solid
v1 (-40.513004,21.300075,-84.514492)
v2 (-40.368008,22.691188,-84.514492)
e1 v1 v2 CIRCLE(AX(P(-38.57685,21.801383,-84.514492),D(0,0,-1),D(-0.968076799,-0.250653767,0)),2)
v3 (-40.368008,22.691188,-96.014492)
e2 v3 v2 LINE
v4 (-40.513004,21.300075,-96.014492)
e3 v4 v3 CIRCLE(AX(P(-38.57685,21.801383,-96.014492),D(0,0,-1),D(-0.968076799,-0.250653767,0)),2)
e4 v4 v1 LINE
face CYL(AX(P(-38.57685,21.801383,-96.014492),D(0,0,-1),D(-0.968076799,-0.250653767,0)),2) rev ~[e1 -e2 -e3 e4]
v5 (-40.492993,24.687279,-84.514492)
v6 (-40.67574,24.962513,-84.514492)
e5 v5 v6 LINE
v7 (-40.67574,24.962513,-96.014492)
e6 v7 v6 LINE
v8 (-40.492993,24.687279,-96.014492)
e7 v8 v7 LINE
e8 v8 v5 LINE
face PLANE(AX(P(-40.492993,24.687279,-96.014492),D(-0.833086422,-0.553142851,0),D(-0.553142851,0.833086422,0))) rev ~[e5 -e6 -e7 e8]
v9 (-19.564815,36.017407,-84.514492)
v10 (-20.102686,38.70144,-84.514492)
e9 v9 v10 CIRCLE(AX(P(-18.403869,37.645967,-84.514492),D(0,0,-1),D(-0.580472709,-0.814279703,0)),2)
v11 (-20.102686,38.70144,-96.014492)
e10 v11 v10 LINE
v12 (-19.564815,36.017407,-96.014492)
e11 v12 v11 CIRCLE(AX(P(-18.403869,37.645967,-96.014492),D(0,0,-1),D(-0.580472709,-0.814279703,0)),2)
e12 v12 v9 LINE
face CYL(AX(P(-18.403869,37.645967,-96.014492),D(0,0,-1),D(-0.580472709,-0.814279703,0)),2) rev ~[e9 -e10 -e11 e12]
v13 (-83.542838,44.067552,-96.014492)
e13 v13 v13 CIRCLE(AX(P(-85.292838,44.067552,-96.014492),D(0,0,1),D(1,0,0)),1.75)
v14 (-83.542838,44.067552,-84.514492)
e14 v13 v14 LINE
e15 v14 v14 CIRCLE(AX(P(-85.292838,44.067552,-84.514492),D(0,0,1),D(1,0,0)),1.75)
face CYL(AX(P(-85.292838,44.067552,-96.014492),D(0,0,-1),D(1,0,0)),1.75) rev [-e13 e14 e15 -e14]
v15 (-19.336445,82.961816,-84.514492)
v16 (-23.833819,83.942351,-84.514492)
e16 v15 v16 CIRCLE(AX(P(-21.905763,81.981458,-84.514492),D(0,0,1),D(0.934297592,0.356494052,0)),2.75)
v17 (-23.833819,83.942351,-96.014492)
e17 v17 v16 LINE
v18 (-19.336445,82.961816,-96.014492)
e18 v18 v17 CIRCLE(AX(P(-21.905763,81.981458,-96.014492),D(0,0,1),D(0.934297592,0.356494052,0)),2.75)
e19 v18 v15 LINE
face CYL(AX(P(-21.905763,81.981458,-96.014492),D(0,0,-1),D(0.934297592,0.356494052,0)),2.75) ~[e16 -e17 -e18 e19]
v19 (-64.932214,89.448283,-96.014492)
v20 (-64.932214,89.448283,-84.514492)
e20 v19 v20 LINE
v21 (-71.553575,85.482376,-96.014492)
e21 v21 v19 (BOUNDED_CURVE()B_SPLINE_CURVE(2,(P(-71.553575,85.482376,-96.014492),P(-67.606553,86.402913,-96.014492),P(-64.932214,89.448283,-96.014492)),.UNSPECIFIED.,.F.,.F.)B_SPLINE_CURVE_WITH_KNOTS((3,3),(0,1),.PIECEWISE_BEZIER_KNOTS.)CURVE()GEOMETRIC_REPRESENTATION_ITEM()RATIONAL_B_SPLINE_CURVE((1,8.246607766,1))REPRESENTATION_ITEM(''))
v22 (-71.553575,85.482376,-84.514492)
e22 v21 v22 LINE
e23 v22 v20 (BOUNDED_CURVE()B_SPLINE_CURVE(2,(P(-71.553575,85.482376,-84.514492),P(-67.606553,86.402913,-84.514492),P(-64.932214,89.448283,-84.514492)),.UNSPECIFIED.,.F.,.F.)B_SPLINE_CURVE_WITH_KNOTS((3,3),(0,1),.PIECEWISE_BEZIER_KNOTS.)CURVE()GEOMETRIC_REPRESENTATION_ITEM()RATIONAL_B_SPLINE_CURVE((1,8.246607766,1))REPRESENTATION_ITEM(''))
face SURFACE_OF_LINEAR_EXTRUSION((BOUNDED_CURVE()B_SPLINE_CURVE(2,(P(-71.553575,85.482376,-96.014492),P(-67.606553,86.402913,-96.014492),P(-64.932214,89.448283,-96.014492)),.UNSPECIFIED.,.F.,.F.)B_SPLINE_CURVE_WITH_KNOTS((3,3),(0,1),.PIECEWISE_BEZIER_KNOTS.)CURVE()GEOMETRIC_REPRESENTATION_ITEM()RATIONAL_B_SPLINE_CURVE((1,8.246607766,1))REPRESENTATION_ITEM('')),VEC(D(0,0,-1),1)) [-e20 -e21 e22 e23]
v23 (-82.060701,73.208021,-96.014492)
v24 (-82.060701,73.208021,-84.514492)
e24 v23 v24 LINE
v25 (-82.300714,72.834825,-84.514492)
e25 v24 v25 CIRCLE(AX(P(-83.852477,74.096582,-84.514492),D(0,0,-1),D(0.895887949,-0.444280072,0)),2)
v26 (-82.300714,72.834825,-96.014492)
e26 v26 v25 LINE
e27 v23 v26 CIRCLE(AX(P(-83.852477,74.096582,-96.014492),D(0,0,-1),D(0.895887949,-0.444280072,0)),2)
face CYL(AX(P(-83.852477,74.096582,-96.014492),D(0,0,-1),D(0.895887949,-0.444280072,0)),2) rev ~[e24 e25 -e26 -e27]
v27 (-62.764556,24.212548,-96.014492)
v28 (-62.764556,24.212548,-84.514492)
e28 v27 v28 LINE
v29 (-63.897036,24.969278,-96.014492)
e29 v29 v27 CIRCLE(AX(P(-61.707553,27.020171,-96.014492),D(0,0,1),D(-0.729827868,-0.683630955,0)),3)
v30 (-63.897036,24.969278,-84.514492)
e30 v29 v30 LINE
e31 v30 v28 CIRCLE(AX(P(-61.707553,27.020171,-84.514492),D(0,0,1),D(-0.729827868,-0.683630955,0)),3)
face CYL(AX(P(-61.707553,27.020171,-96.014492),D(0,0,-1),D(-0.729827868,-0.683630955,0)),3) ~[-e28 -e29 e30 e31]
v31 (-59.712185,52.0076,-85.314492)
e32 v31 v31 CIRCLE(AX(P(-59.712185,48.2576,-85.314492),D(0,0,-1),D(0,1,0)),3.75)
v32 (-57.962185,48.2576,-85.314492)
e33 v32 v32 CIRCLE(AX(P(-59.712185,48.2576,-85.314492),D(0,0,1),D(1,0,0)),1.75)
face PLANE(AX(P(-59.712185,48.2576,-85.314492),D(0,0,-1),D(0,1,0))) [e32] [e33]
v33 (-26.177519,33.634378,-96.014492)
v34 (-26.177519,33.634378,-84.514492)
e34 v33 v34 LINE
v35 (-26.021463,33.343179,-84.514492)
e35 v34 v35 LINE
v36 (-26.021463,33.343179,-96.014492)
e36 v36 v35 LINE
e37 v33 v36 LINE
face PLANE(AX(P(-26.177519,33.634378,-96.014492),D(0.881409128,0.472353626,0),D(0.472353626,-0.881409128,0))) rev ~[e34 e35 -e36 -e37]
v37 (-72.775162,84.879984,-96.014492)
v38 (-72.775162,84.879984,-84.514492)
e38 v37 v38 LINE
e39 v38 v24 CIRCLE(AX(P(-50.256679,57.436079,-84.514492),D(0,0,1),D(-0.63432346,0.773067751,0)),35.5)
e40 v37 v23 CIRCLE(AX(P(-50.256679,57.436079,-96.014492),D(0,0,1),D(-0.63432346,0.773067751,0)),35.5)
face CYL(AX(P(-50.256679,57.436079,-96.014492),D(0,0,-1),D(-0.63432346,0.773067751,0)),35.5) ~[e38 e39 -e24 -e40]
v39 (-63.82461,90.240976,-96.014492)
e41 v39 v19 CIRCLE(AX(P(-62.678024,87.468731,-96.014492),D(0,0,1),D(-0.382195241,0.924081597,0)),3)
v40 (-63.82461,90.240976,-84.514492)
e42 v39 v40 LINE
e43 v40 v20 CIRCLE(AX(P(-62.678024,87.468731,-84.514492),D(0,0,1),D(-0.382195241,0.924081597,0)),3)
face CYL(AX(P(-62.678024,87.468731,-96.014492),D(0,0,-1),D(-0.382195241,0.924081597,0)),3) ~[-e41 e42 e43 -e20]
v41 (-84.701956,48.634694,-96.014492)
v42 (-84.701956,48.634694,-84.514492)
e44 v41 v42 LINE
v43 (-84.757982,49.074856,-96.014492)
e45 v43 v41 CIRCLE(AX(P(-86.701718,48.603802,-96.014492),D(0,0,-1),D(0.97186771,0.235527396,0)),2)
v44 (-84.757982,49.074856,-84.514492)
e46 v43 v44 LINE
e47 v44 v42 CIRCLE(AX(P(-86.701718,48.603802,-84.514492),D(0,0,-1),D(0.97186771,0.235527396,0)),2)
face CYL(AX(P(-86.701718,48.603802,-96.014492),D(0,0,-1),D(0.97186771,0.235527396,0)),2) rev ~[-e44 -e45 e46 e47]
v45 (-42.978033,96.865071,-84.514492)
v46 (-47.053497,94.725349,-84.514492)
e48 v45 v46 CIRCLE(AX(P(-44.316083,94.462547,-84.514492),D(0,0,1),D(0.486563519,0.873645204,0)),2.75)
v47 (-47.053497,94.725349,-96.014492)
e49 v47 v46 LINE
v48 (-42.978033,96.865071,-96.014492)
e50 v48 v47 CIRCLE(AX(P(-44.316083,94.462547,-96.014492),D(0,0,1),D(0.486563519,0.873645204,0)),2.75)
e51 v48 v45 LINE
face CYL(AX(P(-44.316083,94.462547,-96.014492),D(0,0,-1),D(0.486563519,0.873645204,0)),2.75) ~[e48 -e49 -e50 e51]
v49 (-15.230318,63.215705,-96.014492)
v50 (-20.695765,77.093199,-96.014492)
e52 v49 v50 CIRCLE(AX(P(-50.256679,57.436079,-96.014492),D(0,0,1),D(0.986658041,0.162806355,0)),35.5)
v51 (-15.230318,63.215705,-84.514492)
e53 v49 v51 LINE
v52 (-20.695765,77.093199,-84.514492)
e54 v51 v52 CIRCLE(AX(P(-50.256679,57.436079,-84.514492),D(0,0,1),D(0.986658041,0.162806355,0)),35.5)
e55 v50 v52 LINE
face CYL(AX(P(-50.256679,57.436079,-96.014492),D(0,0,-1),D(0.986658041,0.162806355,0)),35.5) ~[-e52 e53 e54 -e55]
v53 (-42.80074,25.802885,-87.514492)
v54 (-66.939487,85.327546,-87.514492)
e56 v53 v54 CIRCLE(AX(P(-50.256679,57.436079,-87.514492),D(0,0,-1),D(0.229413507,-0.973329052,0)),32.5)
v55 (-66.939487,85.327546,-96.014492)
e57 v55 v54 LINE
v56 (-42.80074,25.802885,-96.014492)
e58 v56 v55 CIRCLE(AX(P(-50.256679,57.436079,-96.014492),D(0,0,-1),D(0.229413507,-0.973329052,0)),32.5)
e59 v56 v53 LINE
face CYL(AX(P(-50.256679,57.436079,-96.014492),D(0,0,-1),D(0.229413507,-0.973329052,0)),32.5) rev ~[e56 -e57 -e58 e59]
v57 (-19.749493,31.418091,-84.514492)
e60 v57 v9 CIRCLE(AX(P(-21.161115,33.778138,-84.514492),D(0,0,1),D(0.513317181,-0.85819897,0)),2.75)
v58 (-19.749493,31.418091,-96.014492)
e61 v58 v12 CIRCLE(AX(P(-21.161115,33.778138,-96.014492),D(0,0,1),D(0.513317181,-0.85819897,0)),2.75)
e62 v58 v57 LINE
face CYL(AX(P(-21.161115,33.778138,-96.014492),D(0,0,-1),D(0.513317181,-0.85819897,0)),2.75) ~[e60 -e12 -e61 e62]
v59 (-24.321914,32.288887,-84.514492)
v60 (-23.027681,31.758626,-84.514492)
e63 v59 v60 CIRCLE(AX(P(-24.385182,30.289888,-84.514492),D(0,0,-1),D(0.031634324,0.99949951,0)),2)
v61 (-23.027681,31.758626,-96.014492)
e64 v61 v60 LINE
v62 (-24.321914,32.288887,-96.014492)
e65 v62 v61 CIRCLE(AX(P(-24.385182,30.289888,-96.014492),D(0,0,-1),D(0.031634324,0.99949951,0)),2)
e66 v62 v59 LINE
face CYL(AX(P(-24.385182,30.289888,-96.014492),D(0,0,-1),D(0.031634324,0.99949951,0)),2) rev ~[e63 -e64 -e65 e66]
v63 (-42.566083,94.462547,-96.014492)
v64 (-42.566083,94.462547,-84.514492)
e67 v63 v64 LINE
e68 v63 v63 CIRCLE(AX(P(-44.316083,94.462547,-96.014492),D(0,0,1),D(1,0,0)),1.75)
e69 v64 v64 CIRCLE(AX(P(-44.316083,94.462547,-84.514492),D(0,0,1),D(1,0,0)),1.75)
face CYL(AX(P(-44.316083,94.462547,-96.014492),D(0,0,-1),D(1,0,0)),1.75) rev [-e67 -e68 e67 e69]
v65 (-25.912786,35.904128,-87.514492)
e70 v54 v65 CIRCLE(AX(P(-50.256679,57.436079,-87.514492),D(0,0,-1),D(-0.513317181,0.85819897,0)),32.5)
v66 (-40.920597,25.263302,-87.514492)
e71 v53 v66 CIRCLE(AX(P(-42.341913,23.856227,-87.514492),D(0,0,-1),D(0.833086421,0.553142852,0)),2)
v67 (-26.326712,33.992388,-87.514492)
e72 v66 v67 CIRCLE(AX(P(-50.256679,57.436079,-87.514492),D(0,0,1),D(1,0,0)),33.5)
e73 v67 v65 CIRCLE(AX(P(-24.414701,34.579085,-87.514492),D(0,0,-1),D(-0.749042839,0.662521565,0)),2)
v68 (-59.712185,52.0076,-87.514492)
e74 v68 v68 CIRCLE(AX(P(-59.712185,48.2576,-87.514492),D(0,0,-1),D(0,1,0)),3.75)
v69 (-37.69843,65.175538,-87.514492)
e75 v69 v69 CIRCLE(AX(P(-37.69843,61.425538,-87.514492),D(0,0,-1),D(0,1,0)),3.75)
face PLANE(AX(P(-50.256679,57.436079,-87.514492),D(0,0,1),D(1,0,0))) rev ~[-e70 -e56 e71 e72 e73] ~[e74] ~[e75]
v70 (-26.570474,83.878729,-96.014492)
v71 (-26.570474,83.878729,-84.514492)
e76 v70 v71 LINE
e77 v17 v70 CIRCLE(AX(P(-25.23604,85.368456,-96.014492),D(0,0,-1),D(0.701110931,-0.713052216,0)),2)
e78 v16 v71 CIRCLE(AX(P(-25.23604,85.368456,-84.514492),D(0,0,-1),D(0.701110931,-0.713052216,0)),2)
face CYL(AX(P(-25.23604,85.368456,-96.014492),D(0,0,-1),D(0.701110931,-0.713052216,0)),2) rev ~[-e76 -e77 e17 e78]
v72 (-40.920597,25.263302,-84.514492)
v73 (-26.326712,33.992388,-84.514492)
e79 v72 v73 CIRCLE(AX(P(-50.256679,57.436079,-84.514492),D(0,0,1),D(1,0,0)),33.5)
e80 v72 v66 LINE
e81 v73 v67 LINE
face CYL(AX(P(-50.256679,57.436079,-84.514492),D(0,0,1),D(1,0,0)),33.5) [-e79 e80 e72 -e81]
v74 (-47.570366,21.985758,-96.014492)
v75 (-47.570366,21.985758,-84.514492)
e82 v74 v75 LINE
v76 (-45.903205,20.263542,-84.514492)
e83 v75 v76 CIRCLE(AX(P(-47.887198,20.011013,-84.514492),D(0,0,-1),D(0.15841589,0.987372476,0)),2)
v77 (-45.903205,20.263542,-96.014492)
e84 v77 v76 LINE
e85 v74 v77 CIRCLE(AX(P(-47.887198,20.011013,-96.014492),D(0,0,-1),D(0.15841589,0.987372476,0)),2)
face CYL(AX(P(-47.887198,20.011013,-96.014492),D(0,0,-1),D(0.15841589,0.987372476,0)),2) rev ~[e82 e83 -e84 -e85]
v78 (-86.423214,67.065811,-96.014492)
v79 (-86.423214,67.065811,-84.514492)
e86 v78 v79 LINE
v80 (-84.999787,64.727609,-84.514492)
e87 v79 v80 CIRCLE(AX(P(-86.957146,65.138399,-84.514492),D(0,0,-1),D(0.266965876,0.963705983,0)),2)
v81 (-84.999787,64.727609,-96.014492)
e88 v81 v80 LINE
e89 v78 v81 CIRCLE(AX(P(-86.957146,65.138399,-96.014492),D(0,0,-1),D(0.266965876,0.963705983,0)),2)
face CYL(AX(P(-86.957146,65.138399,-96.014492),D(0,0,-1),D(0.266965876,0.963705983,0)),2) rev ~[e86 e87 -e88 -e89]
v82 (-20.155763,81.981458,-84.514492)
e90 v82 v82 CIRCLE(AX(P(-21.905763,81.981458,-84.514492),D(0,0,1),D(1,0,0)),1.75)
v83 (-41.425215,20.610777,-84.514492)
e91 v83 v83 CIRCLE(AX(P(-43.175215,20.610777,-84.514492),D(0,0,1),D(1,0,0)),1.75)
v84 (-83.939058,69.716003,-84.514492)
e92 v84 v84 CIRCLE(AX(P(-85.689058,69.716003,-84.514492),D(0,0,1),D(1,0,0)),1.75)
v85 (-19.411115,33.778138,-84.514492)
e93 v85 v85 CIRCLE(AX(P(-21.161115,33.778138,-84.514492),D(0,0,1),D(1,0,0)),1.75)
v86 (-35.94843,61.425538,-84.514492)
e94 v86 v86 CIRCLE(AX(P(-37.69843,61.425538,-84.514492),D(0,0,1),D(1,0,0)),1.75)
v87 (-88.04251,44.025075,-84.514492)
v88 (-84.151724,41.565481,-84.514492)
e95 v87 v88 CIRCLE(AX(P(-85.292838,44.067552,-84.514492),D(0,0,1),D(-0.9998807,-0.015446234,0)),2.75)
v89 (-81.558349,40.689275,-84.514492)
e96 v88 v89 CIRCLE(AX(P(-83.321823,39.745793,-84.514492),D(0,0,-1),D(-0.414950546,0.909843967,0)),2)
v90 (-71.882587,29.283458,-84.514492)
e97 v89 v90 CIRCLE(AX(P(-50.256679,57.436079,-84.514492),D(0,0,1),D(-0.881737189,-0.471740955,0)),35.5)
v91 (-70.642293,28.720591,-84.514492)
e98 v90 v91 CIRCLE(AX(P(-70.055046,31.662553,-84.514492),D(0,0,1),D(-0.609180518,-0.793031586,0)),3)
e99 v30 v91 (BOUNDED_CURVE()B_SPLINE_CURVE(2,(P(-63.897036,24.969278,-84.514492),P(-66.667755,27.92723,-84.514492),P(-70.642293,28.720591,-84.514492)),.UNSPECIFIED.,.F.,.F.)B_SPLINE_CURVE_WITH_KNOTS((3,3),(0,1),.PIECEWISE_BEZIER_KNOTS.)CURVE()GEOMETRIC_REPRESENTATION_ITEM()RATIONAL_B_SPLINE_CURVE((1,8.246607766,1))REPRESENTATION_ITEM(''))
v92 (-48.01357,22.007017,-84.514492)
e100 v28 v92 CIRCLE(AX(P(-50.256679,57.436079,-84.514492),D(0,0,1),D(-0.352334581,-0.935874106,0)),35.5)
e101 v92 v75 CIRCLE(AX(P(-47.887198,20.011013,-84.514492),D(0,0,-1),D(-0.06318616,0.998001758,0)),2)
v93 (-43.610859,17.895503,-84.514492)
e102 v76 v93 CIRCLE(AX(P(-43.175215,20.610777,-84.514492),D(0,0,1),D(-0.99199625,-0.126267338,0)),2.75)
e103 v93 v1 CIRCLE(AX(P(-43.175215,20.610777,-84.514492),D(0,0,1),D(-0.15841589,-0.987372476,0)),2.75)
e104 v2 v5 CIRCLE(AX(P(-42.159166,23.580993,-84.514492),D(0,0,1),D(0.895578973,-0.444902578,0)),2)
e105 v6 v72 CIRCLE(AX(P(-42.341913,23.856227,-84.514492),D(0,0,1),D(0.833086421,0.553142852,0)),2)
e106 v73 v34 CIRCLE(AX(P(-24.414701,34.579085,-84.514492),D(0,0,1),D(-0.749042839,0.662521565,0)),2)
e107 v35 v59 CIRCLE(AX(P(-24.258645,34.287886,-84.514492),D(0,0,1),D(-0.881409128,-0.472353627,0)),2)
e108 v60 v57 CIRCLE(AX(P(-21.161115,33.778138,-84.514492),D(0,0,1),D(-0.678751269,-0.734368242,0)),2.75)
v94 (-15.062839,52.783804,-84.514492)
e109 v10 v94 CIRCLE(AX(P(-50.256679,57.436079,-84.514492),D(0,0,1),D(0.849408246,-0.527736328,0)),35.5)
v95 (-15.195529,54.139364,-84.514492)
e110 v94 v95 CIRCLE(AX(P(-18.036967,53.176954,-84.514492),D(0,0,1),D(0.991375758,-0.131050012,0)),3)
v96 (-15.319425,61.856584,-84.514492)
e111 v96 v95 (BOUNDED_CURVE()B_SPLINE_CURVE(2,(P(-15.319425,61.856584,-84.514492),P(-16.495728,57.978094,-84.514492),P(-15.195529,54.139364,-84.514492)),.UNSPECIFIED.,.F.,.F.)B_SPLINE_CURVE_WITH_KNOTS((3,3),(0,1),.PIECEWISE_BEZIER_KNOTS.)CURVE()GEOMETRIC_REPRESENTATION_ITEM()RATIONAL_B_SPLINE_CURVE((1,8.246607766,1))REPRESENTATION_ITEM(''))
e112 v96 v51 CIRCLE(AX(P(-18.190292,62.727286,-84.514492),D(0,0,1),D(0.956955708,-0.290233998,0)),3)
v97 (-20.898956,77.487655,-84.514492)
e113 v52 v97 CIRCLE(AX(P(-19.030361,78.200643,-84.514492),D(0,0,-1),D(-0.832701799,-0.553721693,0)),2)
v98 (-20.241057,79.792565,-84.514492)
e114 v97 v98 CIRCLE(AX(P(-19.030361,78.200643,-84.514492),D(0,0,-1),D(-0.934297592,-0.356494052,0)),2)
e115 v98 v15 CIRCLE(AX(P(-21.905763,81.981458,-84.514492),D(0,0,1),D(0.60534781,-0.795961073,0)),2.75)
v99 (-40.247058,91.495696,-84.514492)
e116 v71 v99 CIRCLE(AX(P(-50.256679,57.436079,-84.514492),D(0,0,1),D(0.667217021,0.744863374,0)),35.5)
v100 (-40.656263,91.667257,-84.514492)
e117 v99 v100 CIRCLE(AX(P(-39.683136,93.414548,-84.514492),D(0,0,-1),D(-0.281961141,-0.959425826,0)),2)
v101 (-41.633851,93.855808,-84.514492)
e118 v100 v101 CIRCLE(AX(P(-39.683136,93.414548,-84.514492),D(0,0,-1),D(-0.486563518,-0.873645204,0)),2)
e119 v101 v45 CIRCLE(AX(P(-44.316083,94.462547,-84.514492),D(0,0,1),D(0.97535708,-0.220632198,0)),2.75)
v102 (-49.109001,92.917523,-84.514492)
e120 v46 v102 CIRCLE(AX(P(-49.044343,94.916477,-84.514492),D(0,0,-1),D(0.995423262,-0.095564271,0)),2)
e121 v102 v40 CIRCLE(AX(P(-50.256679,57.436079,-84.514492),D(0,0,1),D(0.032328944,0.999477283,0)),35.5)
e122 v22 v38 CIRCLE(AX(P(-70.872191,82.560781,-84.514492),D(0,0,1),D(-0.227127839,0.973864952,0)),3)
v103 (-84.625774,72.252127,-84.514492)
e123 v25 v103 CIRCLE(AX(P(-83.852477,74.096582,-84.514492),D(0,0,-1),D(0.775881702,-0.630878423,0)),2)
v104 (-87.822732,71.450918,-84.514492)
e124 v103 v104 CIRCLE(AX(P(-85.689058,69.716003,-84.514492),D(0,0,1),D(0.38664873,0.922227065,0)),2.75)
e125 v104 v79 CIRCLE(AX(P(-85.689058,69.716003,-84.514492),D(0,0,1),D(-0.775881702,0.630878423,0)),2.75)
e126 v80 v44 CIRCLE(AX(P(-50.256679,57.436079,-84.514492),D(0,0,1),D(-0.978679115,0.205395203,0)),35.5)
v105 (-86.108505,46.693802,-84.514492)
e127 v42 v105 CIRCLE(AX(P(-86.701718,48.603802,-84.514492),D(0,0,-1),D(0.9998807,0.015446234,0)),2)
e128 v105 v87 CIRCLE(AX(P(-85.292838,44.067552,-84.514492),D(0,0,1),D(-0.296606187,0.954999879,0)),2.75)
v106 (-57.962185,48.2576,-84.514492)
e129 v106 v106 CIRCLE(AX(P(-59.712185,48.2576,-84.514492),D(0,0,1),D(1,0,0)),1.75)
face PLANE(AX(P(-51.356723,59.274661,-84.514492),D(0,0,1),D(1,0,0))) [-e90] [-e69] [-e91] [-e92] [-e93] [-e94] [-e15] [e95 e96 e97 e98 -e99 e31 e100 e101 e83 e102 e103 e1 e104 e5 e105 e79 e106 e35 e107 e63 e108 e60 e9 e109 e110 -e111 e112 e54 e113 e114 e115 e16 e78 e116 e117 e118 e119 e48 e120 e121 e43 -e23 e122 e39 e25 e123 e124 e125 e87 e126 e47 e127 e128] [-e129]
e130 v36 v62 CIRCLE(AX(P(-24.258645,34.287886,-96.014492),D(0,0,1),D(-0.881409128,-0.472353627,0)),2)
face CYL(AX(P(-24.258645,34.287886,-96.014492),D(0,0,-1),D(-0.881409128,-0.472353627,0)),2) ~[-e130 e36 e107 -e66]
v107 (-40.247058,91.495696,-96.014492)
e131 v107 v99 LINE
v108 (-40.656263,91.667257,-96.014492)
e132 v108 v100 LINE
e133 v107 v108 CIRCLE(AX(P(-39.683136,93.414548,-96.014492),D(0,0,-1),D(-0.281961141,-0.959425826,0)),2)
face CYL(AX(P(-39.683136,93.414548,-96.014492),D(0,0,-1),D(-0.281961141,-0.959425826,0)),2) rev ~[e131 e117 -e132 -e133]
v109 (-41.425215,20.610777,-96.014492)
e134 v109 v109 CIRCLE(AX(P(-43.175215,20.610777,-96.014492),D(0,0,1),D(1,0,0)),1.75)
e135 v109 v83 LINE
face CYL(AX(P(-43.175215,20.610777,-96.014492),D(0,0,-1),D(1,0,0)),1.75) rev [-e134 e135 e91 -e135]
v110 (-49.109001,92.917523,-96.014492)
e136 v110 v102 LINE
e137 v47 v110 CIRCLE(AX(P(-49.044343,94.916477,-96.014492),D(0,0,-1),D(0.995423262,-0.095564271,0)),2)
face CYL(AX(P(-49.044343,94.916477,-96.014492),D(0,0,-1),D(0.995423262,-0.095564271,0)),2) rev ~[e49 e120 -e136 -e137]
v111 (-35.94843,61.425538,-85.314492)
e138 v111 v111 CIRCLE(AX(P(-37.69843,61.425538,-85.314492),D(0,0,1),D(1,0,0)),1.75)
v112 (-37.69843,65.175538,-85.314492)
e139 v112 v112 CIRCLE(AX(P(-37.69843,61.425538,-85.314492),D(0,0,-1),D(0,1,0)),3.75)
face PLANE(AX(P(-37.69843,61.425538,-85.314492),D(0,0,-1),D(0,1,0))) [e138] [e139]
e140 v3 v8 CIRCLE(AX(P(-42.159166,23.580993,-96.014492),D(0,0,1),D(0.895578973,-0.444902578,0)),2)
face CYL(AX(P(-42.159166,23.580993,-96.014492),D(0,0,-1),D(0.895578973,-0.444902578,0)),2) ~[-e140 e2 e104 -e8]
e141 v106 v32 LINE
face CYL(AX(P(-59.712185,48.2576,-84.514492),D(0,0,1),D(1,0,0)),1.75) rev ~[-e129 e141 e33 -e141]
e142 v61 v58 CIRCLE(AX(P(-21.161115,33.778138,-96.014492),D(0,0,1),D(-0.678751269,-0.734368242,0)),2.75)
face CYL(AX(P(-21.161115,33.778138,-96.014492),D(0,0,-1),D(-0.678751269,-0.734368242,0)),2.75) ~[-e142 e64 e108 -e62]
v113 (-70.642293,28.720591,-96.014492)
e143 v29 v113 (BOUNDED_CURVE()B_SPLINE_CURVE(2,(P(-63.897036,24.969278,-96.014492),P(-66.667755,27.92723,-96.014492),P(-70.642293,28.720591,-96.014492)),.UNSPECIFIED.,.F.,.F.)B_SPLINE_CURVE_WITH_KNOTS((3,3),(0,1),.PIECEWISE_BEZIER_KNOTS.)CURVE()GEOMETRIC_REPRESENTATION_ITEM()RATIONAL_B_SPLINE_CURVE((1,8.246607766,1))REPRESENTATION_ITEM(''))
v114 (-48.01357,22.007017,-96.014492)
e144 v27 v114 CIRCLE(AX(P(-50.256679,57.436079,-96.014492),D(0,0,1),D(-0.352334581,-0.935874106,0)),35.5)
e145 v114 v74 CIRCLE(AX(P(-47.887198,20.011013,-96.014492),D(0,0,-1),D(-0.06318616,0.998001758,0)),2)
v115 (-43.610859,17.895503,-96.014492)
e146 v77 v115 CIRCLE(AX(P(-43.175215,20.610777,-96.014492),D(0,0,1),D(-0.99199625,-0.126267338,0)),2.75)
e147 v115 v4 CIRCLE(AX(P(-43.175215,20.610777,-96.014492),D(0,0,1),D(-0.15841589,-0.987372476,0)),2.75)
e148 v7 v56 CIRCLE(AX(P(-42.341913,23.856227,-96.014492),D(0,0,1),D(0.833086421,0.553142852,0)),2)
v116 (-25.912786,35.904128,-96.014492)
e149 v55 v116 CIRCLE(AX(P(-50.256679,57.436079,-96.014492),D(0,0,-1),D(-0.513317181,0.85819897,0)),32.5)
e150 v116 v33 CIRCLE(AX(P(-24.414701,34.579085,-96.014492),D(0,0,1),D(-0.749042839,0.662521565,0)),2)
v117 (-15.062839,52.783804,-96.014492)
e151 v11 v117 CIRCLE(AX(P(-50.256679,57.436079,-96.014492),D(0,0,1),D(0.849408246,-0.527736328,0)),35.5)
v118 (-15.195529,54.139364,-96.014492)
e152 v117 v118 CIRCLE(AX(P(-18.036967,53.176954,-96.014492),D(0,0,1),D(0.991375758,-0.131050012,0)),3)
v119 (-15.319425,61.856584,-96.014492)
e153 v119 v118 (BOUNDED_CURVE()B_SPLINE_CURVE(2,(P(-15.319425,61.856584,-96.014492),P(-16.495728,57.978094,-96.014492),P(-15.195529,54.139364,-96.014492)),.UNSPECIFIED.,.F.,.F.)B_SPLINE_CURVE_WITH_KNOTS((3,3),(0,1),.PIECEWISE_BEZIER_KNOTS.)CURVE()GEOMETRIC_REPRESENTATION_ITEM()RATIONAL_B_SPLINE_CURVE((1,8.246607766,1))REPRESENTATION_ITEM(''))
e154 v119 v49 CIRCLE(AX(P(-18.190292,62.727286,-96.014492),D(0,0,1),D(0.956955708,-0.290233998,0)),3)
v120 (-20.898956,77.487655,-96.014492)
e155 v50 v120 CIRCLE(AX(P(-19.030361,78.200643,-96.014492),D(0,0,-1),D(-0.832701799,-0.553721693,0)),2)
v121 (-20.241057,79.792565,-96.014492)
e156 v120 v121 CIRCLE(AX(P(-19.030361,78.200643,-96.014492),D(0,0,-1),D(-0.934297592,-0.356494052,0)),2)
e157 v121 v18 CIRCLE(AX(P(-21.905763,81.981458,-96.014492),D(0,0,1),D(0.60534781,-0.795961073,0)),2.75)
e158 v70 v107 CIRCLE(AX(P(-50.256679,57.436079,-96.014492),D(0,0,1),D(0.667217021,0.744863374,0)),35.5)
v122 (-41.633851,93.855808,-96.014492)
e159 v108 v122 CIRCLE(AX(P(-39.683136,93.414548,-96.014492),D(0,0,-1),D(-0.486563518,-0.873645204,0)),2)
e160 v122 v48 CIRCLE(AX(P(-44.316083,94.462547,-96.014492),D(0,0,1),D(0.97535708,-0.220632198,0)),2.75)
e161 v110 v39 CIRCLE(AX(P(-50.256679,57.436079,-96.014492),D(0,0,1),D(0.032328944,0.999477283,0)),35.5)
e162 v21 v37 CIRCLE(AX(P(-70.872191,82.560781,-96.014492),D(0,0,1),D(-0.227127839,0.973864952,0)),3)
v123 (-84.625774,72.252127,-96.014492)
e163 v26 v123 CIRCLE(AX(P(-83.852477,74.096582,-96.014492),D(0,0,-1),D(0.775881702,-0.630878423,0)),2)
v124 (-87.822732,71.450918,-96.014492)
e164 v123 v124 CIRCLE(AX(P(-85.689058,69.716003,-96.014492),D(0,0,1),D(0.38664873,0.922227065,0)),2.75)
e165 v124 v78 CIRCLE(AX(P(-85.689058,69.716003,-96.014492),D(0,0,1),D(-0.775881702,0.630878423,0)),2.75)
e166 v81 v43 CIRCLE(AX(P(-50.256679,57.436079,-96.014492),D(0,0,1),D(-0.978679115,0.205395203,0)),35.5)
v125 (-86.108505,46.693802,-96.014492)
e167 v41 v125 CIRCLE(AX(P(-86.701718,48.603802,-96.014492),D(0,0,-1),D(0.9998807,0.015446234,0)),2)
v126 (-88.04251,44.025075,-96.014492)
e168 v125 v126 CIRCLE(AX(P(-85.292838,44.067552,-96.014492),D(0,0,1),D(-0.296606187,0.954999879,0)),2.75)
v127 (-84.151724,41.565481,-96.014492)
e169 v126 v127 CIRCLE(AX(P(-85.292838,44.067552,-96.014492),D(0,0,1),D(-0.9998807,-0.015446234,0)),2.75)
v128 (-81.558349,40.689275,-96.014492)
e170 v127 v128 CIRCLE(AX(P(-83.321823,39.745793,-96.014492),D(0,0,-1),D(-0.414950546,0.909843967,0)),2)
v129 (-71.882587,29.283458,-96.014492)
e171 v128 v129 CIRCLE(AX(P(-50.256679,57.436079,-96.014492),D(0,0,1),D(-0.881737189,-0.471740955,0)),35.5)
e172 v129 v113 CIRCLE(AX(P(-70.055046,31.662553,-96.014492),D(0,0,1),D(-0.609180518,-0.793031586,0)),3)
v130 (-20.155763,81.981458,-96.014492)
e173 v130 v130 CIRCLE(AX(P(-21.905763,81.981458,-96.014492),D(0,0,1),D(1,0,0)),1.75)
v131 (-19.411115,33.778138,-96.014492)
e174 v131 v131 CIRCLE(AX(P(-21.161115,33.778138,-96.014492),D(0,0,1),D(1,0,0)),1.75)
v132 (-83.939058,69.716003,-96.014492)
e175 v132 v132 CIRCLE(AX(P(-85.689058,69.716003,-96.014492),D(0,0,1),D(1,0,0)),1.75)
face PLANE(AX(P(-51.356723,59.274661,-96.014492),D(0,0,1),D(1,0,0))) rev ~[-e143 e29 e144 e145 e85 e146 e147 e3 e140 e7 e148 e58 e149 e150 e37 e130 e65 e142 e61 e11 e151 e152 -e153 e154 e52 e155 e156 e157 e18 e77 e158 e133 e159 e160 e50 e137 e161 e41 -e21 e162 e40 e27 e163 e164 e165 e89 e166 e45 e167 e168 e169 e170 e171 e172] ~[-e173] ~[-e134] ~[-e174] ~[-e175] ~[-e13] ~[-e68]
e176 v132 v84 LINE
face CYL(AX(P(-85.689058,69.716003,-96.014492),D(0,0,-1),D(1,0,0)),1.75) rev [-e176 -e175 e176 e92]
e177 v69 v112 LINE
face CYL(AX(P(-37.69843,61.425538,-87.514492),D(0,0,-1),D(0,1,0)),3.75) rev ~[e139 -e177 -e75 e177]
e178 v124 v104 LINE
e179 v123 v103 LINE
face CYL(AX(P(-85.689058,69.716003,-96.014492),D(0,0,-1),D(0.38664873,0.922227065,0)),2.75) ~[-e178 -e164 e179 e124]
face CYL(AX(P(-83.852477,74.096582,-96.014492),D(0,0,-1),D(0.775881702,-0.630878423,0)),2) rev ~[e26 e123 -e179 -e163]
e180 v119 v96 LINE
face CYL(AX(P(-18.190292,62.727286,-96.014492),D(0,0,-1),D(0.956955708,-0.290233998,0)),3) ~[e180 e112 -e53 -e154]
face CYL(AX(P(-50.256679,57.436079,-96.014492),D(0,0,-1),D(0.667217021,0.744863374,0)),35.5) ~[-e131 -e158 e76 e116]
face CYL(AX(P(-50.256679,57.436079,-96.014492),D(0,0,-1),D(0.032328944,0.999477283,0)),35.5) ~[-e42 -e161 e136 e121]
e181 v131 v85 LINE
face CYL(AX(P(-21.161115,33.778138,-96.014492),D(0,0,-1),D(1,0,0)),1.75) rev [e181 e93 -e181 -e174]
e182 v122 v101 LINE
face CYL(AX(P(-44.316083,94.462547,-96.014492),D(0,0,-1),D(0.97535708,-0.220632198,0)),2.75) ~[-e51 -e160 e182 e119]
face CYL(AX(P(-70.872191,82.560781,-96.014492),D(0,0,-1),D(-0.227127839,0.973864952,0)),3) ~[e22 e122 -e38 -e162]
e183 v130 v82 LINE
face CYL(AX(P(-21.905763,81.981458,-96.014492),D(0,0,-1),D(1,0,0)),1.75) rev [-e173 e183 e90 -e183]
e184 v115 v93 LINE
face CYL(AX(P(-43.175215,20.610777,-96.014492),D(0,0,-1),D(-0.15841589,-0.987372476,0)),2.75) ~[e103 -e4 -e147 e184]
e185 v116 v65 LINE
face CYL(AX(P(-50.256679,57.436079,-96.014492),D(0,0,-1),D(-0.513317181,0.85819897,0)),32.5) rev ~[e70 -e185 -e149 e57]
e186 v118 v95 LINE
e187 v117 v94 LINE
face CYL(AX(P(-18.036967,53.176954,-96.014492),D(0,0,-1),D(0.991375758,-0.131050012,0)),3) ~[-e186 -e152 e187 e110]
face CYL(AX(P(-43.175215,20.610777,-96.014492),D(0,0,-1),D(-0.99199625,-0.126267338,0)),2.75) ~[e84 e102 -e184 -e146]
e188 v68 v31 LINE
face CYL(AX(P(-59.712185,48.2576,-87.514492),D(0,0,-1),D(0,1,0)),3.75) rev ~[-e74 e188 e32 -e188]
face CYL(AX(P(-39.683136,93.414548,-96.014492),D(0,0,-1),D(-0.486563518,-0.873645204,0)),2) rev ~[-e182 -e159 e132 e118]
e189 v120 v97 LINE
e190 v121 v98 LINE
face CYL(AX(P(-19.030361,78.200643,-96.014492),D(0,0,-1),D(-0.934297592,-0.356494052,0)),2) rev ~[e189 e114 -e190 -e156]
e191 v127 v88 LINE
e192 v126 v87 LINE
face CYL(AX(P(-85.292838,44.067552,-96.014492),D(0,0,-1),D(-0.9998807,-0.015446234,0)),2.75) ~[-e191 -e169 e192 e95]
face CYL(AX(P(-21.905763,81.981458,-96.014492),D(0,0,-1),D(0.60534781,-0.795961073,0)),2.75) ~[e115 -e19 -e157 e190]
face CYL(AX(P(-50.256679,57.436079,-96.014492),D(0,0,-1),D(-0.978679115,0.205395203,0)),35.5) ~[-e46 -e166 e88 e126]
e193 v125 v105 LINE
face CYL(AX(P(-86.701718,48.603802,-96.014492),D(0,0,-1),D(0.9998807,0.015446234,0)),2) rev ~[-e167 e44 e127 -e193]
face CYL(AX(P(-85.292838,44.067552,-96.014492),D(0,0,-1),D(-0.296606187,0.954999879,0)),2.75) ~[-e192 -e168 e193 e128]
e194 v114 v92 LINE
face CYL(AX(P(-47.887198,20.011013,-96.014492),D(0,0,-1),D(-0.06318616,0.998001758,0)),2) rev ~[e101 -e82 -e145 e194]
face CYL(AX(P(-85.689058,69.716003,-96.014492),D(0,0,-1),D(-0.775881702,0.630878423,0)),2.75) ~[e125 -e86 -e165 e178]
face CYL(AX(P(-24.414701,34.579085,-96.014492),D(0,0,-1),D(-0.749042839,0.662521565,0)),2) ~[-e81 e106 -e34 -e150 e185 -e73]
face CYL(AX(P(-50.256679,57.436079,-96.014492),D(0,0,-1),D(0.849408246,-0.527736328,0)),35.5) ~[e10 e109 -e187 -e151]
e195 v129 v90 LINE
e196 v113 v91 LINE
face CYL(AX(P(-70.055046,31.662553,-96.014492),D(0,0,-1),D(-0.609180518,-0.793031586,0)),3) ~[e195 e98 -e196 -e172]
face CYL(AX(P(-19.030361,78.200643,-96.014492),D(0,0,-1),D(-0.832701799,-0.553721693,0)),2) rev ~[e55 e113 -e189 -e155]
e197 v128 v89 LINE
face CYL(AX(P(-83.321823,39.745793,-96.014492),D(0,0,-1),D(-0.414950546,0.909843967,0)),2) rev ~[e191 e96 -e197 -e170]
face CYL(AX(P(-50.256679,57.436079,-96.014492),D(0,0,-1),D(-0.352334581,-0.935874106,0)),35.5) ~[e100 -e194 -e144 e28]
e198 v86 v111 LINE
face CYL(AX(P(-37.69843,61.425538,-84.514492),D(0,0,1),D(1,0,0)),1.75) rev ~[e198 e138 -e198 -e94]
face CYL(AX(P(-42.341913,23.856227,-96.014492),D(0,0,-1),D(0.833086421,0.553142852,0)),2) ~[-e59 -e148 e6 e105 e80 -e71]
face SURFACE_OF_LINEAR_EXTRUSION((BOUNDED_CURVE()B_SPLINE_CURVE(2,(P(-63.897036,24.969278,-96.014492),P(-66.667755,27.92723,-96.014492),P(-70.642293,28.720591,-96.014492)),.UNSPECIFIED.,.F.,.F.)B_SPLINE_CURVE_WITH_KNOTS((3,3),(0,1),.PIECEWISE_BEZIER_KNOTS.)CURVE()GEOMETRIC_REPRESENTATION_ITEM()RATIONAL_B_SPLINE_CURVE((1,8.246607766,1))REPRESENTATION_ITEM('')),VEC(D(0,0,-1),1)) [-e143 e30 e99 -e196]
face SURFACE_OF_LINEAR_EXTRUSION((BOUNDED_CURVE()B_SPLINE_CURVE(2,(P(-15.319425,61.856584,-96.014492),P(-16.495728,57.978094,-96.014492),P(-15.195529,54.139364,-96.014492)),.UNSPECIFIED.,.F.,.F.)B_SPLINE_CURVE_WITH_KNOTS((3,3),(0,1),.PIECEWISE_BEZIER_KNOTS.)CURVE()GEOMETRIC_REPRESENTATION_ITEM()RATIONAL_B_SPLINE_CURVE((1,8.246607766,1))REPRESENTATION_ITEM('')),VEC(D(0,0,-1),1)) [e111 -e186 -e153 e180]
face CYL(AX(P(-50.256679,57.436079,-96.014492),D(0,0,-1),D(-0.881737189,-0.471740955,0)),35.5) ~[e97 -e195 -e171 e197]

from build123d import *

# Parameters (mm, degrees)
EXTRUDE_2_DEPTH     = 11.5
SKETCH_5_R          = 33.5
EXTRUDE_3_DEPTH     = 3
CUT_EXTRUDE_START   = -11.5
SKETCH_6_R          = 1.75
SKETCH_6_R_2        = 1.55
CUT_EXTRUDE_1_DEPTH = 11.5
SKETCH_7_R          = 1.75
CUT_EXTRUDE_5_DEPTH = 132.924206488
SKETCH_10_R         = 3.75
CUT_EXTRUDE_6_DEPTH = 2.2


with BuildPart() as part:
    # 草图3 → 凸台-拉伸2 (new body)
    with BuildSketch(Plane.XY.offset(-96.014491648)):
        with BuildLine():
            Line((-40.492993239, 24.687278547), (-40.675739889, 24.962512607))
            ThreePointArc((-40.675739889, 24.962512607), (-41.606401052, 25.716071673), (-42.800739744, 25.802885006))
            ThreePointArc((-42.800739744, 25.802885006), (-80.374449004, 45.222565671), (-66.939487097, 85.327545701))
            ThreePointArc((-66.939487097, 85.327545701), (-25.249847673, 78.194412491), (-25.912786435, 35.904128301))
            ThreePointArc((-25.912786435, 35.904128301), (-26.40123425, 34.810784715), (-26.177519013, 33.634377915))
            Line((-26.177519013, 33.634377915), (-26.021463407, 33.343179059))
            ThreePointArc((-26.021463407, 33.343179059), (-25.312936916, 32.588336704), (-24.321913798, 32.288887294))
            ThreePointArc((-24.321913798, 32.288887294), (-23.626933575, 32.140579673), (-23.027680881, 31.758625659))
            ThreePointArc((-23.027680881, 31.758625659), (-21.445252865, 31.04285669), (-19.74949264, 31.418091156))
            ThreePointArc((-19.74949264, 31.418091156), (-18.413329107, 33.667805653), (-19.564814907, 36.017407482))
            ThreePointArc((-19.564814907, 36.017407482), (-20.364881109, 37.252986699), (-20.102685981, 38.701439544))
            ThreePointArc((-20.102685981, 38.701439544), (-16.832689757, 45.474182909), (-15.062839283, 52.783803781))
            ThreePointArc((-15.062839283, 52.783803781), (-15.051236485, 53.469213852), (-15.195529134, 54.139364))
            add(Edge.make_bspline(
                [(-15.319425238, 61.856583739), (-16.49572782, 57.978094374), (-15.195529134, 54.139364)],
                knots=[0, 0, 0, 1, 1, 1], degree=2, weights=[1, 8.246607766, 1]))
            ThreePointArc((-15.319425238, 61.856583739), (-15.196719258, 62.531020416), (-15.230318238, 63.215704794))
            ThreePointArc((-15.230318238, 63.215704794), (-17.226007888, 70.444721896), (-20.695764851, 77.093199319))
            ThreePointArc((-20.695764851, 77.093199319), (-20.808333579, 77.284774589), (-20.898956438, 77.487654603))
            ThreePointArc((-20.898956438, 77.487654603), (-20.953551538, 78.749586356), (-20.241057012, 79.792564747))
            ThreePointArc((-20.241057012, 79.792564747), (-19.26137688, 81.226660066), (-19.336445111, 82.961816342))
            ThreePointArc((-19.336445111, 82.961816342), (-21.319959034, 84.668339374), (-23.833818547, 83.942351293))
            ThreePointArc((-23.833818547, 83.942351293), (-25.189556573, 83.368995985), (-26.570474451, 83.878728977))
            ThreePointArc((-26.570474451, 83.878728977), (-32.983673797, 88.450483927), (-40.247058178, 91.495695992))
            ThreePointArc((-40.247058178, 91.495695992), (-40.456433036, 91.570093379), (-40.656262932, 91.667257235))
            ThreePointArc((-40.656262932, 91.667257235), (-41.509238891, 92.59885907), (-41.633850859, 93.855808482))
            ThreePointArc((-41.633850859, 93.855808482), (-41.805190186, 95.584116524), (-42.978033152, 96.865071337))
            ThreePointArc((-42.978033152, 96.865071337), (-45.594424834, 96.897365647), (-47.053496799, 94.725348761))
            ThreePointArc((-47.053496799, 94.725348761), (-47.723506694, 93.414681511), (-49.10900121, 92.917522737))
            ThreePointArc((-49.10900121, 92.917522737), (-56.60936713, 92.363050854), (-63.824609735, 90.24097589))
            ThreePointArc((-63.824609735, 90.24097589), (-64.423993666, 89.908319173), (-64.932214395, 89.448282999))
            add(Edge.make_bspline(
                [(-71.553574683, 85.482375956), (-67.606553074, 86.40291272), (-64.932214395, 89.448282999)],
                knots=[0, 0, 0, 1, 1, 1], degree=2, weights=[1, 8.246607766, 1]))
            ThreePointArc((-71.553574683, 85.482375956), (-72.199006969, 85.251424113), (-72.775161544, 84.879984354))
            ThreePointArc((-72.775161544, 84.879984354), (-78.037829174, 79.537157868), (-82.060701037, 73.208021481))
            ThreePointArc((-82.060701037, 73.208021481), (-82.170325724, 73.014746469), (-82.30071354, 72.834824764))
            ThreePointArc((-82.30071354, 72.834824764), (-83.366280763, 72.156578189), (-84.625773644, 72.252127162))
            ThreePointArc((-84.625773644, 72.252127162), (-86.357576852, 72.383507575), (-87.822732334, 71.450918397))
            ThreePointArc((-87.822732334, 71.450918397), (-88.308867667, 68.879883427), (-86.423213777, 67.065811271))
            ThreePointArc((-86.423213777, 67.065811271), (-85.248804513, 66.178385351), (-84.999787298, 64.727608899))
            ThreePointArc((-84.999787298, 64.727608899), (-85.752443552, 56.887737871), (-84.757982369, 49.074856447))
            ThreePointArc((-84.757982369, 49.074856447), (-84.717724968, 48.856333808), (-84.701956387, 48.634694114))
            ThreePointArc((-84.701956387, 48.634694114), (-85.082259885, 47.430193489), (-86.108505425, 46.693801882))
            ThreePointArc((-86.108505425, 46.693801882), (-87.51959303, 45.681263421), (-88.042510334, 44.02507507))
            ThreePointArc((-88.042510334, 44.02507507), (-86.762282187, 41.743066253), (-84.151724405, 41.565481306))
            ThreePointArc((-84.151724405, 41.565481306), (-82.681648322, 41.640569343), (-81.558348935, 40.689275282))
            ThreePointArc((-81.558348935, 40.689275282), (-77.327979239, 34.471003799), (-71.882587109, 29.283457891))
            ThreePointArc((-71.882587109, 29.283457891), (-71.294805975, 28.930704538), (-70.642292598, 28.720590563))
            add(Edge.make_bspline(
                [(-63.897036205, 24.969277868), (-66.667755232, 27.927230468), (-70.642292598, 28.720590563)],
                knots=[0, 0, 0, 1, 1, 1], degree=2, weights=[1, 8.246607766, 1]))
            ThreePointArc((-63.897036205, 24.969277868), (-63.374309899, 24.525793034), (-62.764556344, 24.212548414))
            ThreePointArc((-62.764556344, 24.212548414), (-55.506199065, 22.326357798), (-48.013570238, 22.007016761))
            ThreePointArc((-48.013570238, 22.007016761), (-47.791376824, 22.008716505), (-47.570366149, 21.985758196))
            ThreePointArc((-47.570366149, 21.985758196), (-46.450202396, 21.402071776), (-45.90320467, 20.263541953))
            ThreePointArc((-45.90320467, 20.263541953), (-45.151080965, 18.69806868), (-43.610858681, 17.895502823))
            ThreePointArc((-43.610858681, 17.895502823), (-41.14120942, 18.760014757), (-40.513003788, 21.300075001))
            ThreePointArc((-40.513003788, 21.300075001), (-40.566074024, 22.008719301), (-40.368008135, 22.691187687))
            ThreePointArc((-40.368008135, 22.691187687), (-40.16307522, 23.705977946), (-40.492993239, 24.687278547))
        make_face()
        with BuildLine():
            ThreePointArc((-43.420759613, 19.080349794), (-41.644787646, 20.365232502), (-42.929670354, 22.141204469))
            ThreePointArc((-42.929670354, 22.141204469), (-44.705642321, 20.856321761), (-43.420759613, 19.080349794))
        make_face(mode=Mode.SUBTRACT)
        with BuildLine():
            ThreePointArc((-20.365473258, 32.44792992), (-19.830906485, 34.573779953), (-21.956756519, 35.108346725))
            ThreePointArc((-21.956756519, 35.108346725), (-22.491323291, 32.982496692), (-20.365473258, 32.44792992))
        make_face(mode=Mode.SUBTRACT)
    extrude(amount=EXTRUDE_2_DEPTH)

    # 草图5 → 凸台-拉伸3 (add)
    with BuildSketch(Plane.XY.offset(-84.514491648)):
        with Locations((-50.256678709, 57.436079188)):
            Circle(SKETCH_5_R)
    extrude(amount=-EXTRUDE_3_DEPTH)

    # 草图6 → 切除-拉伸1 (cut)
    # profile 1 of 6: a face of its own
    with BuildSketch(Plane.XY.offset(-84.514491648).offset(CUT_EXTRUDE_START)):
        with Locations((-85.689057654, 69.716002733)):
            Circle(SKETCH_6_R)
    # profile 2 of 6: a face of its own
    with BuildSketch(Plane.XY.offset(-84.514491648).offset(CUT_EXTRUDE_START)):
        with Locations((-21.905763489, 81.981457698)):
            Circle(SKETCH_6_R)
    # profile 3 of 6: a face of its own
    with BuildSketch(Plane.XY.offset(-84.514491648).offset(CUT_EXTRUDE_START)):
        with Locations((-44.316082829, 94.462547026)):
            Circle(SKETCH_6_R)
    # profile 4 of 6: a face of its own
    with BuildSketch(Plane.XY.offset(-84.514491648).offset(CUT_EXTRUDE_START)):
        with Locations((-85.292838409, 44.067552214)):
            Circle(SKETCH_6_R)
    # profile 5 of 6: a face of its own
    with BuildSketch(Plane.XY.offset(-84.514491648).offset(CUT_EXTRUDE_START)):
        with Locations((-43.175214984, 20.610777132)):
            Circle(SKETCH_6_R)
        with Locations((-43.175214984, 20.610777132)):
            Circle(SKETCH_6_R_2, mode=Mode.SUBTRACT)
    # profile 6 of 6: a face of its own
    with BuildSketch(Plane.XY.offset(-84.514491648).offset(CUT_EXTRUDE_START)):
        with Locations((-21.161114888, 33.778138322)):
            Circle(SKETCH_6_R)
        with Locations((-21.161114888, 33.778138322)):
            Circle(SKETCH_6_R_2, mode=Mode.SUBTRACT)
    extrude(amount=CUT_EXTRUDE_1_DEPTH, mode=Mode.SUBTRACT)

    # 草图7 → 切除-拉伸5 (cut, through all)
    with BuildSketch(Plane.XY.offset(-84.514491648)):
        with Locations((-37.69843004, 61.425537708)):
            Circle(SKETCH_7_R)
        with Locations((-59.712185407, 48.257600194)):
            Circle(SKETCH_7_R)
    extrude(amount=-CUT_EXTRUDE_5_DEPTH, mode=Mode.SUBTRACT)

    # 草图10 → 切除-拉伸6 (cut)
    with BuildSketch(Plane(origin=(0, 0, -87.514491648), x_dir=(-1, 0, 0), z_dir=(0, 0, -1))):
        with Locations(Location((37.69843004, 61.425537708, 0), (0, 0, 90))):
            Circle(SKETCH_10_R)
        with Locations(Location((59.712185407, 48.257600194, 0), (0, 0, 90))):
            Circle(SKETCH_10_R)
    extrude(amount=-CUT_EXTRUDE_6_DEPTH, mode=Mode.SUBTRACT)


solid = part.part
